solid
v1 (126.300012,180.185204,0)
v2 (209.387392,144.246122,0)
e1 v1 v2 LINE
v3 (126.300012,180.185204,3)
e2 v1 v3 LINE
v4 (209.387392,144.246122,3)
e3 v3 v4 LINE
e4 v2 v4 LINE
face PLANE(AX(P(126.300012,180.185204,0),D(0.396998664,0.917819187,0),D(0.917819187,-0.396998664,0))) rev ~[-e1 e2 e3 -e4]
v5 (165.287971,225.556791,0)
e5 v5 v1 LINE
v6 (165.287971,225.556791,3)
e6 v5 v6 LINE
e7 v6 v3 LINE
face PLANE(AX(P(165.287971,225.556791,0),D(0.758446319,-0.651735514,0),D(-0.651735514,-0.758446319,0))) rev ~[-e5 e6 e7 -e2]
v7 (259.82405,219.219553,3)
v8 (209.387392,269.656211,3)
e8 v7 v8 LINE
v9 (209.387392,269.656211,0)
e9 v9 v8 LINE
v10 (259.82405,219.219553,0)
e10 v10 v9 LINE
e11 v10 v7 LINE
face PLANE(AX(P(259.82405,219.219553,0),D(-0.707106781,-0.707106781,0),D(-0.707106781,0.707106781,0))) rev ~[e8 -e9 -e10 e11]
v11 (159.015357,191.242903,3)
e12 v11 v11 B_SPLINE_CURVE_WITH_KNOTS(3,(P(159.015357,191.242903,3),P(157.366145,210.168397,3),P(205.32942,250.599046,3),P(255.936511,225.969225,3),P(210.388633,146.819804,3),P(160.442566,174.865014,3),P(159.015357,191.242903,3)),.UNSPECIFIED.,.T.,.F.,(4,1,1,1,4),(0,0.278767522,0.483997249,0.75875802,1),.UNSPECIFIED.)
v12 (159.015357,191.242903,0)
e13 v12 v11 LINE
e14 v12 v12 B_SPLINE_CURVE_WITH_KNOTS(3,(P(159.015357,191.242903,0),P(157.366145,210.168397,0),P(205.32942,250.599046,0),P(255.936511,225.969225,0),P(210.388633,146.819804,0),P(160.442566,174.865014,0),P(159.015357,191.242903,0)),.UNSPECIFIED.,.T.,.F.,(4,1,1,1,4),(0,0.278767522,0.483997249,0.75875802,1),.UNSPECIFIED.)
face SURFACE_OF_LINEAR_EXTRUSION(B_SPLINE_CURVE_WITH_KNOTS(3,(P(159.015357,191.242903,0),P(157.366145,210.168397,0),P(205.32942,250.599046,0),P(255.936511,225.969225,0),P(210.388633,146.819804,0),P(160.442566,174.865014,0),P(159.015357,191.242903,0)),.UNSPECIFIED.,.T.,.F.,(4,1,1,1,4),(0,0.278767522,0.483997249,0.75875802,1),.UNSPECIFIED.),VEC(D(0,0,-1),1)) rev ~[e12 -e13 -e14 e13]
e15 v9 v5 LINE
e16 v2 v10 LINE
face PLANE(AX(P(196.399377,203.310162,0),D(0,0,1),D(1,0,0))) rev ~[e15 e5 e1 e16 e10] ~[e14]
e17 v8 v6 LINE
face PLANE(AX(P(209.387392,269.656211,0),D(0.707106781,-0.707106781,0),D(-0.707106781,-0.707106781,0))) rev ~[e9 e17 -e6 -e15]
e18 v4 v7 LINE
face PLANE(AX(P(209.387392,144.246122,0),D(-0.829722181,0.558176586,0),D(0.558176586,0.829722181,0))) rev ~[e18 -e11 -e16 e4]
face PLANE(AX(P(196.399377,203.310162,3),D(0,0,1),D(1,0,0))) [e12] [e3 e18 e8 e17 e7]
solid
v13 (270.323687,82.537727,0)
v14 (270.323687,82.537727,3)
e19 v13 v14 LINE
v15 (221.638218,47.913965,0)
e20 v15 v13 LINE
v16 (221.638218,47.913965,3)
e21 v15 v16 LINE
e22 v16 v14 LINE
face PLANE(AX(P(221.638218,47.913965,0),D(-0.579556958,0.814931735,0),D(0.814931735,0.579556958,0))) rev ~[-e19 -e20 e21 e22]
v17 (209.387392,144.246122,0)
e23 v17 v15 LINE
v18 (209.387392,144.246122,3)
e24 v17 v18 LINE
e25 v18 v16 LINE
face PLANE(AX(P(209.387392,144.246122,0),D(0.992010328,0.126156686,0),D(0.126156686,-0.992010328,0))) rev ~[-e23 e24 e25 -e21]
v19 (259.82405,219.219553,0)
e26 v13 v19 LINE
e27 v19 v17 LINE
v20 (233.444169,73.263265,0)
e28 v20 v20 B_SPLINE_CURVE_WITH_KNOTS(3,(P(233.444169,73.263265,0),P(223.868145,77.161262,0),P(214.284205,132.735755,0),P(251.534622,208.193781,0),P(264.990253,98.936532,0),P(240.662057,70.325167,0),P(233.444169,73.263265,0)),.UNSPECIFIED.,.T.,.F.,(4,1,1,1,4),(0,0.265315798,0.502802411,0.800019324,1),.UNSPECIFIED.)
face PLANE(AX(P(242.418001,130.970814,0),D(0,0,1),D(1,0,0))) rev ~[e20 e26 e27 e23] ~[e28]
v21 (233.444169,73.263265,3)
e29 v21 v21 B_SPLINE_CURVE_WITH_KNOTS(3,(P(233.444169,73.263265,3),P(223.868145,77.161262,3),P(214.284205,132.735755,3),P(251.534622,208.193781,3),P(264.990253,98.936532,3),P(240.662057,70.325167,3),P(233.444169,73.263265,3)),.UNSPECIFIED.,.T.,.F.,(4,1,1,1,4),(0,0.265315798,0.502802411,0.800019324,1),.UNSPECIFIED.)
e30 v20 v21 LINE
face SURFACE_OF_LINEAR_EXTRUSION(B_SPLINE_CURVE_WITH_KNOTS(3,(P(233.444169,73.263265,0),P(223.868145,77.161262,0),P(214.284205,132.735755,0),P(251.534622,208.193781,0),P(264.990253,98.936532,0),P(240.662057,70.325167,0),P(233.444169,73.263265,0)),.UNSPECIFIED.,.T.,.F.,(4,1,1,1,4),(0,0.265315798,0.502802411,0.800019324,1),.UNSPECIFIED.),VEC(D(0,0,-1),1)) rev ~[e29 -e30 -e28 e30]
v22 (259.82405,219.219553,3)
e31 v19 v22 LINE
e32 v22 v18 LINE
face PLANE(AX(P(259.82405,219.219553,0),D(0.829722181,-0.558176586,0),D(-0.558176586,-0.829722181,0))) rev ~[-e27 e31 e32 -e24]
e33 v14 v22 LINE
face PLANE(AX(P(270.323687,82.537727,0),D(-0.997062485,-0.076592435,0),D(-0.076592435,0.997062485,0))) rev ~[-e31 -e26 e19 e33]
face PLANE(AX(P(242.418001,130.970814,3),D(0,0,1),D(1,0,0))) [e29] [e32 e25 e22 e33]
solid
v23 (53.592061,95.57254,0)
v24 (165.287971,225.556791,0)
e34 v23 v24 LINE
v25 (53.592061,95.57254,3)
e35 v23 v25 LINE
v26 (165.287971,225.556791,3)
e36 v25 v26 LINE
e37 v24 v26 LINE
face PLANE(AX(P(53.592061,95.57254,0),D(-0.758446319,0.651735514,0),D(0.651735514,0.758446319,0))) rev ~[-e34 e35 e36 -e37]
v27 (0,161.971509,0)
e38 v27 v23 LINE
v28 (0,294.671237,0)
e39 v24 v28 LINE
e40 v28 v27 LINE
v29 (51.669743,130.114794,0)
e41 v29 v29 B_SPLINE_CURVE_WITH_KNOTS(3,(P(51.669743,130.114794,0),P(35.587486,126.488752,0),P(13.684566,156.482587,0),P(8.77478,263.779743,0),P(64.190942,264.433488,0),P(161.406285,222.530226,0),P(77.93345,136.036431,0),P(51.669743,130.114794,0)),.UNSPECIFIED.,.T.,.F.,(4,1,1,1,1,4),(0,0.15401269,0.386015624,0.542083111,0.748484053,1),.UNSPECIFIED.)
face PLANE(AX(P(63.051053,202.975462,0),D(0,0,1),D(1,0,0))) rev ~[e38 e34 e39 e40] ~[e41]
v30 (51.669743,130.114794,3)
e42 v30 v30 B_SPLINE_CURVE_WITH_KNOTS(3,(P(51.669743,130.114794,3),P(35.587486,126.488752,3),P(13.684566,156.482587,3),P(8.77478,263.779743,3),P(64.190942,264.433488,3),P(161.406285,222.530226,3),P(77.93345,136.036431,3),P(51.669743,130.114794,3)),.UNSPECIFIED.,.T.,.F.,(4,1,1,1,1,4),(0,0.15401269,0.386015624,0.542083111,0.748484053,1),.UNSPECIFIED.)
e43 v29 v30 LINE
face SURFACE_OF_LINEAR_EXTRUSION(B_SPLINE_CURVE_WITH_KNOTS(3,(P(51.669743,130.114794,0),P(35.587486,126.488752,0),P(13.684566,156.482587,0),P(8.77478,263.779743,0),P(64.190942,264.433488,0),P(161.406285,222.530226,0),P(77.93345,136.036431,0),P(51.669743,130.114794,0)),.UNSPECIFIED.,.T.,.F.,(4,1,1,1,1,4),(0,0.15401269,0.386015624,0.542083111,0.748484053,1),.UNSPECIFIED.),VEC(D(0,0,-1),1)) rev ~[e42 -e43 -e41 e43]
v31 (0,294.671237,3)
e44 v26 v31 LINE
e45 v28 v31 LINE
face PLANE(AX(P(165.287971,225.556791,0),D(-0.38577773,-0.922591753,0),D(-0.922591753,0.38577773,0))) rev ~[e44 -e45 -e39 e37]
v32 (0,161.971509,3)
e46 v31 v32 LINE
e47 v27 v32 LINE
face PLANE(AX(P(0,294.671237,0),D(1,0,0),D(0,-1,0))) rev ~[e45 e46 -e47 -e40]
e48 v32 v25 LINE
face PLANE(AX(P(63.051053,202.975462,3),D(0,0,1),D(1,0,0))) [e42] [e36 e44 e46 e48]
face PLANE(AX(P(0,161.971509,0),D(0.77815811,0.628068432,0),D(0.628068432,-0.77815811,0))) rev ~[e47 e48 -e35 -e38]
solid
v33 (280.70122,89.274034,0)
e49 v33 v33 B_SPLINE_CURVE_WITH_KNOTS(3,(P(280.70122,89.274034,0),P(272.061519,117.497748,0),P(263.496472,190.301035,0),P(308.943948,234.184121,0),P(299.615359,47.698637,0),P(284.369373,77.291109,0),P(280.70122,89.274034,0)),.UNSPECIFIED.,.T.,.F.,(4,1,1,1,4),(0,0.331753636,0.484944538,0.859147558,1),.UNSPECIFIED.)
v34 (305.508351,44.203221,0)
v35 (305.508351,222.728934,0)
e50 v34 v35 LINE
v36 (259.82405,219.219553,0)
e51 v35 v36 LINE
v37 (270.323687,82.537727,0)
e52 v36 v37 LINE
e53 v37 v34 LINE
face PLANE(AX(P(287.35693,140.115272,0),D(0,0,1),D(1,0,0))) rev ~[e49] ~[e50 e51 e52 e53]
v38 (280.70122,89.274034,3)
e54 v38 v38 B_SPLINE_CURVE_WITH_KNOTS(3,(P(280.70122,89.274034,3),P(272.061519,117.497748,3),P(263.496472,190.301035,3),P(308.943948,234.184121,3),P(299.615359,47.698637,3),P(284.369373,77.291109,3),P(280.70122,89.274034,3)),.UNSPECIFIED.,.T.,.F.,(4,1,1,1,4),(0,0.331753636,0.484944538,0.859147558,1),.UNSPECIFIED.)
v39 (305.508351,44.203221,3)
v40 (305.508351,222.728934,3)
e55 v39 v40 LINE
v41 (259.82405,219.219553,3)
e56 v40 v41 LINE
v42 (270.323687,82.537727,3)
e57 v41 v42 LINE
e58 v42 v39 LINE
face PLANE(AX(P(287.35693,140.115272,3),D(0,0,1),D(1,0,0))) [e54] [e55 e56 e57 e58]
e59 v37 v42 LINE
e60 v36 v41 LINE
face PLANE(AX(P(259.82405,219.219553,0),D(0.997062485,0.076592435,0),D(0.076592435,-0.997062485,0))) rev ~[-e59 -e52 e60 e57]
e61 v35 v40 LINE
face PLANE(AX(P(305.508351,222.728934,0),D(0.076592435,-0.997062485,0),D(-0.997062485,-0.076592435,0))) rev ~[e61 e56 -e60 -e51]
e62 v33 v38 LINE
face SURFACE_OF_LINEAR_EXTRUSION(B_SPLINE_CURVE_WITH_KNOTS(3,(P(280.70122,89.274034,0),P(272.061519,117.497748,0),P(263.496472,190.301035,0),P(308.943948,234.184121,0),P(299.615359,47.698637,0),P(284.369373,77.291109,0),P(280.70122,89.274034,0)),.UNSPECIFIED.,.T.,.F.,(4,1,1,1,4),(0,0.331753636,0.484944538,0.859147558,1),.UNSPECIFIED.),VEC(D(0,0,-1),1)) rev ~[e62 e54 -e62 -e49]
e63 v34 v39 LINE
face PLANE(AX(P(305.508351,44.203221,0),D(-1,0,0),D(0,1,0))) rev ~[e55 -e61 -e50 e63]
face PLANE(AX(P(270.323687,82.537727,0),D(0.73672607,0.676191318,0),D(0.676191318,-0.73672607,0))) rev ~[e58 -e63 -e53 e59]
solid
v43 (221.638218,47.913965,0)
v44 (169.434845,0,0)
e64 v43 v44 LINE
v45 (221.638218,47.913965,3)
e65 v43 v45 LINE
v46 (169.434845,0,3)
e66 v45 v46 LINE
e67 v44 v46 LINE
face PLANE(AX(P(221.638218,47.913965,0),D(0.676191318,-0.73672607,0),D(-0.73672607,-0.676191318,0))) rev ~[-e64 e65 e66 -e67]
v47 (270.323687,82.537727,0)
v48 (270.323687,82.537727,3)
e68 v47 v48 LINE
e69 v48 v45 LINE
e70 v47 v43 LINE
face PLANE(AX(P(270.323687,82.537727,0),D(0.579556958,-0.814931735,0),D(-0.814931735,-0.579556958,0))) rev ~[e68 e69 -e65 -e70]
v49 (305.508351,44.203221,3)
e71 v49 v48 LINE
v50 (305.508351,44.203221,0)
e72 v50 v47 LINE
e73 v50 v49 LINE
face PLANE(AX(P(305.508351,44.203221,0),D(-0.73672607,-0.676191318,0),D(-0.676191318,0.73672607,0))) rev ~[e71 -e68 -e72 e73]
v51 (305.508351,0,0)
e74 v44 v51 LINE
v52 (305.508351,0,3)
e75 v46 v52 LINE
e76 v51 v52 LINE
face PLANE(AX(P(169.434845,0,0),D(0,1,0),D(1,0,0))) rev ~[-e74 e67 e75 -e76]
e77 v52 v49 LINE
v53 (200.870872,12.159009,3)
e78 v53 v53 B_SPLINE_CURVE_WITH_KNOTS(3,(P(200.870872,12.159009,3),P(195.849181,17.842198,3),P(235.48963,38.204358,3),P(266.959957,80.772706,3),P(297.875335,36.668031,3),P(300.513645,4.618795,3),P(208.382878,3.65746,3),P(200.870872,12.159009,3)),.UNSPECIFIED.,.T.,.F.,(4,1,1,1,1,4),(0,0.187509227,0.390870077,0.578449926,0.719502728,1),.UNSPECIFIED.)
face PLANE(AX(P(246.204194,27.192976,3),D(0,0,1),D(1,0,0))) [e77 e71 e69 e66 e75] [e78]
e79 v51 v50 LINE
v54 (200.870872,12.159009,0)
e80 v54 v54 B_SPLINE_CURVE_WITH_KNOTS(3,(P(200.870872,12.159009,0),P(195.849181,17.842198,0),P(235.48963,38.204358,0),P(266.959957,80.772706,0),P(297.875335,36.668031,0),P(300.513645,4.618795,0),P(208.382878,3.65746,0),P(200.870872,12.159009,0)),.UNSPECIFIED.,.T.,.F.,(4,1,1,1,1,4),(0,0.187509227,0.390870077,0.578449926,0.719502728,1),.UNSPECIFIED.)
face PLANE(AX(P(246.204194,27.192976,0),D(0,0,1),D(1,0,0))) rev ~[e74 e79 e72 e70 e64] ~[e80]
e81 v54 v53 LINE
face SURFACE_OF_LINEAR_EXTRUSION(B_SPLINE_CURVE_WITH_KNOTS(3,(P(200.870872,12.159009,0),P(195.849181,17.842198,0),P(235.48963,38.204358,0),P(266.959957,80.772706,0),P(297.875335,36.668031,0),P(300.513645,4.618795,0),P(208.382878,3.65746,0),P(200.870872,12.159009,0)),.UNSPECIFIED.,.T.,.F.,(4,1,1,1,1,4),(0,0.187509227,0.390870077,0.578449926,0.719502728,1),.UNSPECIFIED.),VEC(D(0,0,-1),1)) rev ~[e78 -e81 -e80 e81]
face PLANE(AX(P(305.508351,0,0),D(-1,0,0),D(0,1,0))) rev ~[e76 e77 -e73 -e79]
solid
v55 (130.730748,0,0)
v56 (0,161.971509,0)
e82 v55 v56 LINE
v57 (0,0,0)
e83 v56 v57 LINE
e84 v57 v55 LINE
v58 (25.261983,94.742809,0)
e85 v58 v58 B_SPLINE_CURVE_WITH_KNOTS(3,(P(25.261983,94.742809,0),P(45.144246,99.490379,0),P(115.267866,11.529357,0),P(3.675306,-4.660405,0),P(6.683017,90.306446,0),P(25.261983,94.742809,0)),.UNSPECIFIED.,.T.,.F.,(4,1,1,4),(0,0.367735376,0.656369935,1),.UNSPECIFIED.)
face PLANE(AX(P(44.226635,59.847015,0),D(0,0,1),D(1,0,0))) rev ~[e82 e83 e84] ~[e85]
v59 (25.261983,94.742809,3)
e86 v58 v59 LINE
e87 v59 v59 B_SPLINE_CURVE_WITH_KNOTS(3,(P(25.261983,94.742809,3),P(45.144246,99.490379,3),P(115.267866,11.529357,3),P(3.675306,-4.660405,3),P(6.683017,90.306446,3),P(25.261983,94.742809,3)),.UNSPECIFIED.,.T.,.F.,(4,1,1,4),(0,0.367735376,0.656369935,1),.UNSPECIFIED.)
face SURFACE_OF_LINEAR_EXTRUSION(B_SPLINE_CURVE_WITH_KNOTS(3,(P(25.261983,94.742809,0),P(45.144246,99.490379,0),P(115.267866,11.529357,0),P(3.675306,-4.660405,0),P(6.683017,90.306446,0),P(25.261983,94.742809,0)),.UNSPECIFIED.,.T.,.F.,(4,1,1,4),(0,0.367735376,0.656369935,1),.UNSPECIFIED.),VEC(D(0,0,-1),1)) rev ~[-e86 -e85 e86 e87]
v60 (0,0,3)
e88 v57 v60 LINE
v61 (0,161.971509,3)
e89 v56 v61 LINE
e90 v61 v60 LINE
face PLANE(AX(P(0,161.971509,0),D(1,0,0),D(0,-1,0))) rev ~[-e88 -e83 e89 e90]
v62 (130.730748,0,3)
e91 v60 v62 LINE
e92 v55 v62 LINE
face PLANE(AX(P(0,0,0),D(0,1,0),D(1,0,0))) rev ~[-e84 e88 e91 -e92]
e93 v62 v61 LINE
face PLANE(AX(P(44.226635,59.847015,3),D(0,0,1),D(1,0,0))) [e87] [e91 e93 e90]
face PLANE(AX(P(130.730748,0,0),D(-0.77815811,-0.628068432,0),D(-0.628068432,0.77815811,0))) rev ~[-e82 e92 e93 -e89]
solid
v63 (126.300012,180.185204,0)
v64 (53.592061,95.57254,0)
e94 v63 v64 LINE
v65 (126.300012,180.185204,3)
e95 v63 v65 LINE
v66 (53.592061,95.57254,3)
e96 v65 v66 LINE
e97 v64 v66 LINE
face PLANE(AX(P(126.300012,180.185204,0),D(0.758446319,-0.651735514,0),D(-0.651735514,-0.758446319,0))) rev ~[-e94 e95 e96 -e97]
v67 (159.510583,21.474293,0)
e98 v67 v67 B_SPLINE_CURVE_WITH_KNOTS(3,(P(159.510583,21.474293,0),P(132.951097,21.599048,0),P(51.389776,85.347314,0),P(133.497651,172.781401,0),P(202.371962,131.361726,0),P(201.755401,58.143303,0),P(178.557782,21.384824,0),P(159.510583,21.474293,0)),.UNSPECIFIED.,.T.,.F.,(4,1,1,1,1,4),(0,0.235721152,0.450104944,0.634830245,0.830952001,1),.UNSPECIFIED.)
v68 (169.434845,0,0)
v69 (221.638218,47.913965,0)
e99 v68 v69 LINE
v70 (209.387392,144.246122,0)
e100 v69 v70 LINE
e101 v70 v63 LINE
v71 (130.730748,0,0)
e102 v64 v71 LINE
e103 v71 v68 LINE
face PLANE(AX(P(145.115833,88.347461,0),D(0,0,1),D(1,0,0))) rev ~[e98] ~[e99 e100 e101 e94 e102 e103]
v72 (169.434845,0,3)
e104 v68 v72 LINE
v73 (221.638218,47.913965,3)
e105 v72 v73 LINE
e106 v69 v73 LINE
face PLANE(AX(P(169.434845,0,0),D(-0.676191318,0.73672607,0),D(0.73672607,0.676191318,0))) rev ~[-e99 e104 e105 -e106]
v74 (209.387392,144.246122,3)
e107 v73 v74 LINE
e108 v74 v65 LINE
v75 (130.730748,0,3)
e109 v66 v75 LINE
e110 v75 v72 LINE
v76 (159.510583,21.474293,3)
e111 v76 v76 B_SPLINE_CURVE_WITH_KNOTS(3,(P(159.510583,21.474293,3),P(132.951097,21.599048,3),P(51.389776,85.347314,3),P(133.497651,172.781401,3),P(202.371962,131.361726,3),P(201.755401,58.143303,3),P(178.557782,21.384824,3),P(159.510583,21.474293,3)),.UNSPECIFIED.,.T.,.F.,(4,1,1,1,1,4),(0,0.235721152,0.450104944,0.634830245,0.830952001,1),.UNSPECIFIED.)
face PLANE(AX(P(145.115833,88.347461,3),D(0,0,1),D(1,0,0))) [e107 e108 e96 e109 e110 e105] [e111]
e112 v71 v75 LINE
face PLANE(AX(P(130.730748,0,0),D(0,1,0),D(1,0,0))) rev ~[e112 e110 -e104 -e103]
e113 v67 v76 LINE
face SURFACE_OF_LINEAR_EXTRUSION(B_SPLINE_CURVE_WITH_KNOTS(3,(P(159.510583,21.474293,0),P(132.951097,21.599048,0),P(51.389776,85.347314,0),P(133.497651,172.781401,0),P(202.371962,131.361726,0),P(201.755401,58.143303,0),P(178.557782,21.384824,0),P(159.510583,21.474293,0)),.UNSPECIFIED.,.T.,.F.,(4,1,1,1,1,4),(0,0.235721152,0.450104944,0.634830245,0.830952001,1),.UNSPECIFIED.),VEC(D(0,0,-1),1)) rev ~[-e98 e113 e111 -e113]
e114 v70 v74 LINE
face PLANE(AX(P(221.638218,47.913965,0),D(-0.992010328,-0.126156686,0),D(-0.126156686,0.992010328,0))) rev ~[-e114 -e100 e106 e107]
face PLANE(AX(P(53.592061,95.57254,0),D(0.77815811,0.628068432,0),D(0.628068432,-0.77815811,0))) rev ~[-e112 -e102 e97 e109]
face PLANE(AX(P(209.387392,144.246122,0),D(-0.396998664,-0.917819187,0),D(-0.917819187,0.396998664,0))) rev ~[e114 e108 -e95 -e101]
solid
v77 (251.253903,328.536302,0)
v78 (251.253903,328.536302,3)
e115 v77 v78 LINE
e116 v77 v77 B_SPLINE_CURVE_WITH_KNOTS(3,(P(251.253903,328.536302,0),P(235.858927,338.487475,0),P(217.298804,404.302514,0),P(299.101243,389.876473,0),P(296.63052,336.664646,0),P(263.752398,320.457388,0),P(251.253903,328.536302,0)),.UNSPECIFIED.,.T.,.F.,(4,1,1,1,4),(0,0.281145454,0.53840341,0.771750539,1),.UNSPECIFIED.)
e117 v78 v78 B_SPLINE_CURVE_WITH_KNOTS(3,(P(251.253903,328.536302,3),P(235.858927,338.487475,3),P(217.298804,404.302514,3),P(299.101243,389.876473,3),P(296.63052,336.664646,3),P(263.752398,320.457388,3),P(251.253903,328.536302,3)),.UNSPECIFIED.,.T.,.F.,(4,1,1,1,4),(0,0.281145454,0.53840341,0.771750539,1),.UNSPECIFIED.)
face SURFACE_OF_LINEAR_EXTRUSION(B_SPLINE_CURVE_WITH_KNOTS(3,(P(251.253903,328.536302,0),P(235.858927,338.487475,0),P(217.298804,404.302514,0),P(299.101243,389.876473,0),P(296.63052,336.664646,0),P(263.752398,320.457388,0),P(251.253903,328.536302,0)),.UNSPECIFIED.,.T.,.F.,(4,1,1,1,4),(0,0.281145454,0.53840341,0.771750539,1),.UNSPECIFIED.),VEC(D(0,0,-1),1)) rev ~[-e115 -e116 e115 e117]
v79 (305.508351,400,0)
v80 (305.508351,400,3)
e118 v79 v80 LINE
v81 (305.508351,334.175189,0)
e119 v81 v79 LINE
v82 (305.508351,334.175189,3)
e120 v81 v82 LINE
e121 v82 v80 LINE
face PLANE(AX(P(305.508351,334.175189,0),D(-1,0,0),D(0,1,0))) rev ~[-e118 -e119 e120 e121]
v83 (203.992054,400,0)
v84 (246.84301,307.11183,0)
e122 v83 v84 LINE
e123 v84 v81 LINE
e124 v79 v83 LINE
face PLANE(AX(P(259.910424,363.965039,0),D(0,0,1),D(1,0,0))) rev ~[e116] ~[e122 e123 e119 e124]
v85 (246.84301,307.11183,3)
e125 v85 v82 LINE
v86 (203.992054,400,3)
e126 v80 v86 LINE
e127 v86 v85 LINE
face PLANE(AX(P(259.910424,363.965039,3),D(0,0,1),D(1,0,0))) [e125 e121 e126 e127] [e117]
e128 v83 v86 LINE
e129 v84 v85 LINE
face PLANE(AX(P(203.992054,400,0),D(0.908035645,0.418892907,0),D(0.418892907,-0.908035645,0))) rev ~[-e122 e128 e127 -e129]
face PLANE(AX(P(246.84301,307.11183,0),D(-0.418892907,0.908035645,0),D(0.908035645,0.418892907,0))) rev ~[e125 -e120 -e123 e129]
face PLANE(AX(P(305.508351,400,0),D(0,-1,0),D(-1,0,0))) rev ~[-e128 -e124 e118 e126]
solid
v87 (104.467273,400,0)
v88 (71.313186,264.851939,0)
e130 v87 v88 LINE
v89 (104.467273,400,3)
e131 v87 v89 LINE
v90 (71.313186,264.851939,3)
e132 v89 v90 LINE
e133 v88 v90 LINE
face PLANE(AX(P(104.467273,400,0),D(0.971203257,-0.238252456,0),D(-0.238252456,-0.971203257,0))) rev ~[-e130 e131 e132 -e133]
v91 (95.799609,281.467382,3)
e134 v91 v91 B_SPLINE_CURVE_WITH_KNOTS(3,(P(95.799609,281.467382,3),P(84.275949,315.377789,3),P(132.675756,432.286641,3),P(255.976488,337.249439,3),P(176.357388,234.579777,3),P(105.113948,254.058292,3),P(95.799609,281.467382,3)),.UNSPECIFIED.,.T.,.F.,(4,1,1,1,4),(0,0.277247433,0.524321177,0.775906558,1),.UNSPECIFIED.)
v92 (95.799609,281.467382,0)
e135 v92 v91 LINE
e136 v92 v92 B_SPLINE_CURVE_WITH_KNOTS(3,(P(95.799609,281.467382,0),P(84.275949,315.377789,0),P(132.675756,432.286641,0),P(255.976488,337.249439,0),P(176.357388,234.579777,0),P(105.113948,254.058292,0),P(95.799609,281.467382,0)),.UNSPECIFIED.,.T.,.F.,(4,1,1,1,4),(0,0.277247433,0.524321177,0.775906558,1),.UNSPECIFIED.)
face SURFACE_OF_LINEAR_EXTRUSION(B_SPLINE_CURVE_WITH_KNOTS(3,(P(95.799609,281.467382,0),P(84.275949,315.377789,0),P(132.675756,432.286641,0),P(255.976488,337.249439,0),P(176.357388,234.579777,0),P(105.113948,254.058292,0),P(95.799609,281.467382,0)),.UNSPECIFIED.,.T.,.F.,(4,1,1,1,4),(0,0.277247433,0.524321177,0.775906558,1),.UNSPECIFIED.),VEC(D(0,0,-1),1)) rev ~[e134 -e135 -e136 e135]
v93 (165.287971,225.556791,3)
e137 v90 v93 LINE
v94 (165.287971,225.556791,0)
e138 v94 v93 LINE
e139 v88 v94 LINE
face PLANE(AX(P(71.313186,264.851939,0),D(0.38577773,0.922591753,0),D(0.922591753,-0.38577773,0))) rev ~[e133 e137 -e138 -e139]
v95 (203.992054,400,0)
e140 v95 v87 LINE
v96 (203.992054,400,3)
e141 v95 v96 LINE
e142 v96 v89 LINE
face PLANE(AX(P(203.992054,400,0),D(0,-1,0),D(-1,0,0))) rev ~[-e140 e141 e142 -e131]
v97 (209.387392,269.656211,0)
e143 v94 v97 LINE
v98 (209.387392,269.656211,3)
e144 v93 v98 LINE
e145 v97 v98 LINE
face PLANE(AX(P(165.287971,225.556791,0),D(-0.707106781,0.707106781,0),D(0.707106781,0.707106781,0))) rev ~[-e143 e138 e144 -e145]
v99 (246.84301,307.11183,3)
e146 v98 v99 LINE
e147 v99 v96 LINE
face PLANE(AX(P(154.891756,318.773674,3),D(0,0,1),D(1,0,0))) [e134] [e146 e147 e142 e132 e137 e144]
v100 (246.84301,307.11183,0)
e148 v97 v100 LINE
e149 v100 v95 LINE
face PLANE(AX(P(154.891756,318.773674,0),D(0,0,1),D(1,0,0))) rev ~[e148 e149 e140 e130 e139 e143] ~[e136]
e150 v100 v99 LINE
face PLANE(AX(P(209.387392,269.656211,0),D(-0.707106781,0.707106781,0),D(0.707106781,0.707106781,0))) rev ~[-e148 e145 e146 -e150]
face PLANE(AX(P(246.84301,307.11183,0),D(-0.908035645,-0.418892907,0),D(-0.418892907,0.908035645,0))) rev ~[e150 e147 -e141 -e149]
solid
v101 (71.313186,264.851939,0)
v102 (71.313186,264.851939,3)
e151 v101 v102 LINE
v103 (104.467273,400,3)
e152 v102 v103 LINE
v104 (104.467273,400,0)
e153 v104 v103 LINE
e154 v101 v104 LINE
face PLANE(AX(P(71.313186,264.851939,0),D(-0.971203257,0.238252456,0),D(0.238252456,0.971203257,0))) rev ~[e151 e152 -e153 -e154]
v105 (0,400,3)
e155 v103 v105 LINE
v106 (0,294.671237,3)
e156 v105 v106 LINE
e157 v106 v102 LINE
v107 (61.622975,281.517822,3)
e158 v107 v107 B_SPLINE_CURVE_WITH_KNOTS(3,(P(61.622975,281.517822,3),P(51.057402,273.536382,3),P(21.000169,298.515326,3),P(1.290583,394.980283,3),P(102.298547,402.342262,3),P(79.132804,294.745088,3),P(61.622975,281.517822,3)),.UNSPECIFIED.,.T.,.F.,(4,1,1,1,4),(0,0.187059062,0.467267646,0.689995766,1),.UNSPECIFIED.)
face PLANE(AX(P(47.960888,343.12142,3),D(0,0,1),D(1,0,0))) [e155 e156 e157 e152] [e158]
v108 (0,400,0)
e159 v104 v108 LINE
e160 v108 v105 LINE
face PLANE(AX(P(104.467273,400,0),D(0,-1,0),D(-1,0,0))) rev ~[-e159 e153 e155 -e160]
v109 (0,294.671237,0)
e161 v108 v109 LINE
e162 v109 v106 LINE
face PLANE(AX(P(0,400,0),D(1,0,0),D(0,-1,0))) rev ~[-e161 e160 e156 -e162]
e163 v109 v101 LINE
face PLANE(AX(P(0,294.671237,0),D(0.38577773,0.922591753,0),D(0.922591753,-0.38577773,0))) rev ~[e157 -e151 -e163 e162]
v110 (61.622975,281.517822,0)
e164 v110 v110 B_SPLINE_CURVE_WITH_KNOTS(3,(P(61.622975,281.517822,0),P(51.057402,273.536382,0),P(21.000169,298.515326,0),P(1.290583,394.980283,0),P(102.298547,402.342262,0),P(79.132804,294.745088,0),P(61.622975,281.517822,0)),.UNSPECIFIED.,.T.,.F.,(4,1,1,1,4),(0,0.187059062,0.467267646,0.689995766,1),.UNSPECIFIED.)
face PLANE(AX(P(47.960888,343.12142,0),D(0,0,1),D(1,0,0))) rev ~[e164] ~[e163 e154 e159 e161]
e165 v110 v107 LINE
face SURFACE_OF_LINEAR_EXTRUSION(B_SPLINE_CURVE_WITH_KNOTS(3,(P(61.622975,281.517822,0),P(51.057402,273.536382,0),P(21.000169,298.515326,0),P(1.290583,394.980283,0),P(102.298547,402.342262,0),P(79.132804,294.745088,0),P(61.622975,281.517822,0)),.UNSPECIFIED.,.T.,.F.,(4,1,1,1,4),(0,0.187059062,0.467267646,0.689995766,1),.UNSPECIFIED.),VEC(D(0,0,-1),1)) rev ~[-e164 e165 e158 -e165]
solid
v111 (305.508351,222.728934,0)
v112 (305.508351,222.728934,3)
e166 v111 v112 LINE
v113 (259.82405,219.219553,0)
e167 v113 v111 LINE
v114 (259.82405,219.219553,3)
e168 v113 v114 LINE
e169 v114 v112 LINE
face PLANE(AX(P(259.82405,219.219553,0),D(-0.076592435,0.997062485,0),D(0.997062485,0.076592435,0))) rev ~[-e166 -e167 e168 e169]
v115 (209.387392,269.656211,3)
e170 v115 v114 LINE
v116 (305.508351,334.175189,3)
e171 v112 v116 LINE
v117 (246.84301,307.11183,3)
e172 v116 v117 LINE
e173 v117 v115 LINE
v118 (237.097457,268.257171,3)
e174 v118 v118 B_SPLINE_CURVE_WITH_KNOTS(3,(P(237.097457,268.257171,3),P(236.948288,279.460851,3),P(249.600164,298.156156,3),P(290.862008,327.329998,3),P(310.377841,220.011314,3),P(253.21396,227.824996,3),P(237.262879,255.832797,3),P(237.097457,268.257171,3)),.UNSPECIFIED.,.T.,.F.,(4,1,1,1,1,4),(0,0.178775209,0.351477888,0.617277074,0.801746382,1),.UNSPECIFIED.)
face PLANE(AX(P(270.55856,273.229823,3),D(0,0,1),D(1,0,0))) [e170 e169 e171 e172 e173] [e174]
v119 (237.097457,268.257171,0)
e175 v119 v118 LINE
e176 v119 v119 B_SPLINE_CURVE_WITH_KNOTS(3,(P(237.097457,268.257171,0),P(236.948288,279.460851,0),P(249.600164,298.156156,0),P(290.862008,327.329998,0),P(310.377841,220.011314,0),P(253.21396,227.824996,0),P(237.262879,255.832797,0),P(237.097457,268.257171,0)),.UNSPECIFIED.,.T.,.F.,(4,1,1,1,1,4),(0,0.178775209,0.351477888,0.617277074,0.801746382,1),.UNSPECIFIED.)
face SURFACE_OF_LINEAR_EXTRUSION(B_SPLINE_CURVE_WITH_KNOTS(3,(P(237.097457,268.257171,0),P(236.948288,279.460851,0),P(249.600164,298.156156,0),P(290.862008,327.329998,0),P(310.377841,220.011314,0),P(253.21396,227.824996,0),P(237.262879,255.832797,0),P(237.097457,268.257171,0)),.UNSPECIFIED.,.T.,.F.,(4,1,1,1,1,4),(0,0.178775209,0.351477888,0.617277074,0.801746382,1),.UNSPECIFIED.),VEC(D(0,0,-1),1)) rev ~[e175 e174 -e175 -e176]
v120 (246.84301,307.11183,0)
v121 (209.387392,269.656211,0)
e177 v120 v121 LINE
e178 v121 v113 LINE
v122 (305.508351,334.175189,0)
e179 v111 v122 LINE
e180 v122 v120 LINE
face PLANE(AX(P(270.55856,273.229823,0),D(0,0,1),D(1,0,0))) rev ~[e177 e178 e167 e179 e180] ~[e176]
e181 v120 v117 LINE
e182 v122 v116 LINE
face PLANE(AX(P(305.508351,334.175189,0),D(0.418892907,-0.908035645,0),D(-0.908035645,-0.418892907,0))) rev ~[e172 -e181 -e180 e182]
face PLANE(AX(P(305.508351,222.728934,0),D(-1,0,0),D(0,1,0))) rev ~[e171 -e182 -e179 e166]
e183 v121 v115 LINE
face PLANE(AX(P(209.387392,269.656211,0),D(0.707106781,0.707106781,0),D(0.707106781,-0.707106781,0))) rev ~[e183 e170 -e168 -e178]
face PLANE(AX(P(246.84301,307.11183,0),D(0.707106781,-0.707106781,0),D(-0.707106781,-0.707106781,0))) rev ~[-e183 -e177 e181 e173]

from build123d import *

# Parameters (mm, degrees)
F1_DEPTH  = 3
F2_DEPTH  = 3
F3_DEPTH  = 3
F4_DEPTH  = 3
F5_DEPTH  = 3
F6_DEPTH  = 3
F7_DEPTH  = 3
F8_DEPTH  = 3
F9_DEPTH  = 3
F10_DEPTH = 3
F11_DEPTH = 3


with BuildPart() as f1:
    # F0 (on Top) → F1 (new body)
    with BuildSketch(Plane.XY):
        Polygon((0, 294.6712374687), (0, 161.9715094566), (53.5920605919, 95.5725400479), (126.3000116157, 180.1852036905), (165.2879714966, 225.5567908287), (71.3131855545, 264.8519389855), align=None)
        with BuildLine():
            add(Edge.make_bspline(
                [(51.6697429121, 130.1147937775), (35.5874858701, 126.4887521528), (13.6845662793, 156.482586697), (8.7747800625, 263.7797428633), (64.1909416028, 264.4334878406), (161.4062847284, 222.5302263314), (77.9334495117, 136.0364310886), (51.6697429121, 130.1147937775)],
                knots=[0, 0, 0, 0, 0.1540126903, 0.3860156236, 0.5420831112, 0.7484840529, 1, 1, 1, 1], degree=3))
        make_face(mode=Mode.SUBTRACT)
    extrude(amount=F1_DEPTH)


with BuildPart() as f2:
    # F0 (on Top) → F2 (new body)
    with BuildSketch(Plane.XY):
        Polygon((0, 400), (0, 294.6712374687), (71.3131855545, 264.8519389855), (104.4672727585, 400), align=None)
        with BuildLine():
            add(Edge.make_bspline(
                [(61.6229747966, 281.517821814), (51.0574019698, 273.5363821456), (21.0001691232, 298.5153264084), (1.2905825831, 394.9802827365), (102.2985472619, 402.3422617188), (79.1328044503, 294.745088454), (61.6229747966, 281.517821814)],
                knots=[0, 0, 0, 0, 0.187059062, 0.4672676464, 0.689995766, 1, 1, 1, 1], degree=3))
        make_face(mode=Mode.SUBTRACT)
    extrude(amount=F2_DEPTH)


with BuildPart() as f3:
    # F0 (on Top) → F3 (new body)
    with BuildSketch(Plane.XY):
        Polygon((104.4672727585, 400), (71.3131855545, 264.8519389855), (165.2879714966, 225.5567908287), (209.3873918056, 269.6562111378), (246.8430101871, 307.1118295193), (203.9920538664, 400), align=None)
        with BuildLine():
            add(Edge.make_bspline(
                [(95.7996090098, 281.4673822174), (84.2759491698, 315.377789107), (132.6757556073, 432.2866410388), (255.9764879696, 337.2494387492), (176.357388249, 234.5797769631), (105.1139480812, 254.058292379), (95.7996090098, 281.4673822174)],
                knots=[0, 0, 0, 0, 0.277247433, 0.5243211775, 0.775906558, 1, 1, 1, 1], degree=3))
        make_face(mode=Mode.SUBTRACT)
    extrude(amount=F3_DEPTH)


with BuildPart() as f4:
    # F0 (on Top) → F4 (new body)
    with BuildSketch(Plane.XY):
        Polygon((0, 161.9715094566), (0, 0), (130.7307481766, 0), (53.5920605919, 95.5725400479), align=None)
        with BuildLine():
            add(Edge.make_bspline(
                [(25.2619834304, 94.7428092373), (45.1442458177, 99.4903791564), (115.2678656409, 11.5293570833), (3.6753059621, -4.6604045747), (6.6830172149, 90.3064458389), (25.2619834304, 94.7428092373)],
                knots=[0, 0, 0, 0, 0.3677353756, 0.6563699348, 1, 1, 1, 1], degree=3))
        make_face(mode=Mode.SUBTRACT)
    extrude(amount=F4_DEPTH)


with BuildPart() as f5:
    # F0 (on Top) → F5 (new body)
    with BuildSketch(Plane.XY):
        Polygon((53.5920605919, 95.5725400479), (130.7307481766, 0), (169.4348454475, 0), (221.6382175684, 47.9139648378), (209.3873918056, 144.2461217855), (126.3000116157, 180.1852036905), align=None)
        with BuildLine():
            add(Edge.make_bspline(
                [(159.5105826855, 21.4742925018), (132.951097494, 21.5990476702), (51.3897764528, 85.3473143579), (133.4976506264, 172.7814008042), (202.3719621737, 131.3617263532), (201.7554007889, 58.1433028365), (178.5577823084, 21.3848240283), (159.5105826855, 21.4742925018)],
                knots=[0, 0, 0, 0, 0.2357211518, 0.450104944, 0.6348302447, 0.8309520007, 1, 1, 1, 1], degree=3))
        make_face(mode=Mode.SUBTRACT)
    extrude(amount=F5_DEPTH)


with BuildPart() as f6:
    # F0 (on Top) → F6 (new body)
    with BuildSketch(Plane.XY):
        Polygon((165.2879714966, 225.5567908287), (126.3000116157, 180.1852036905), (209.3873918056, 144.2461217855), (259.8240498698, 219.2195530736), (209.3873918056, 269.6562111378), align=None)
        with BuildLine():
            add(Edge.make_bspline(
                [(159.0153574944, 191.242903471), (157.3661450922, 210.168396932), (205.3294198163, 250.5990459857), (255.936510859, 225.9692254996), (210.3886326245, 146.8198035125), (160.4425655974, 174.8650144943), (159.0153574944, 191.242903471)],
                knots=[0, 0, 0, 0, 0.2787675215, 0.483997249, 0.7587580198, 1, 1, 1, 1], degree=3))
        make_face(mode=Mode.SUBTRACT)
    extrude(amount=F6_DEPTH)


with BuildPart() as f7:
    # F0 (on Top) → F7 (new body)
    with BuildSketch(Plane.XY):
        Polygon((209.3873918056, 144.2461217855), (221.6382175684, 47.9139648378), (270.3236866424, 82.5377267131), (259.8240498698, 219.2195530736), align=None)
        with BuildLine():
            add(Edge.make_bspline(
                [(233.4441691637, 73.2632651925), (223.8681451639, 77.1612617015), (214.2842052546, 132.7357552801), (251.534621698, 208.1937805486), (264.9902525089, 98.936531553), (240.6620572979, 70.3251665881), (233.4441691637, 73.2632651925)],
                knots=[0, 0, 0, 0, 0.2653157983, 0.5028024109, 0.8000193241, 1, 1, 1, 1], degree=3))
        make_face(mode=Mode.SUBTRACT)
    extrude(amount=F7_DEPTH)


with BuildPart() as f8:
    # F0 (on Top) → F8 (new body)
    with BuildSketch(Plane.XY):
        Polygon((221.6382175684, 47.9139648378), (169.4348454475, 0), (305.508351326, 0), (305.508351326, 44.2032213212), (270.3236866424, 82.5377267131), align=None)
        with BuildLine():
            add(Edge.make_bspline(
                [(200.8708715439, 12.1590094641), (195.8491811406, 17.8421984771), (235.489629836, 38.2043577532), (266.9599571662, 80.7727062979), (297.8753354095, 36.6680313005), (300.513644725, 4.6187954166), (208.382877661, 3.6574597465), (200.8708715439, 12.1590094641)],
                knots=[0, 0, 0, 0, 0.1875092268, 0.3908700766, 0.578449926, 0.719502728, 1, 1, 1, 1], degree=3))
        make_face(mode=Mode.SUBTRACT)
    extrude(amount=F8_DEPTH)


with BuildPart() as f9:
    # F0 (on Top) → F9 (new body)
    with BuildSketch(Plane.XY):
        Polygon((259.8240498698, 219.2195530736), (305.508351326, 222.7289338324), (305.508351326, 334.175189231), (246.8430101871, 307.1118295193), (209.3873918056, 269.6562111378), align=None)
        with BuildLine():
            add(Edge.make_bspline(
                [(237.0974570513, 268.2571709156), (236.9482878735, 279.4608509393), (249.6001638259, 298.1561557938), (290.8620079609, 327.3299981185), (310.3778412781, 220.0113141522), (253.2139601552, 227.8249960774), (237.2628789198, 255.8327967166), (237.0974570513, 268.2571709156)],
                knots=[0, 0, 0, 0, 0.1787752092, 0.3514778882, 0.6172770738, 0.8017463823, 1, 1, 1, 1], degree=3))
        make_face(mode=Mode.SUBTRACT)
    extrude(amount=F9_DEPTH)


with BuildPart() as f10:
    # F0 (on Top) → F10 (new body)
    with BuildSketch(Plane.XY):
        Polygon((270.3236866424, 82.5377267131), (305.508351326, 44.2032213212), (305.508351326, 222.7289338324), (259.8240498698, 219.2195530736), align=None)
        with BuildLine():
            add(Edge.make_bspline(
                [(280.7012200356, 89.2740339041), (272.0615194095, 117.4977478634), (263.4964717343, 190.3010345866), (308.943947776, 234.1841205919), (299.6153590071, 47.6986369732), (284.3693725332, 77.2911086462), (280.7012200356, 89.2740339041)],
                knots=[0, 0, 0, 0, 0.331753636, 0.4849445381, 0.8591475583, 1, 1, 1, 1], degree=3))
        make_face(mode=Mode.SUBTRACT)
    extrude(amount=F10_DEPTH)


with BuildPart() as f11:
    # F0 (on Top) → F11 (new body)
    with BuildSketch(Plane.XY):
        Polygon((305.508351326, 400), (203.9920538664, 400), (246.8430101871, 307.1118295193), (305.508351326, 334.175189231), align=None)
        with BuildLine():
            add(Edge.make_bspline(
                [(251.2539029121, 328.5363018513), (235.8589268987, 338.487475366), (217.2988037865, 404.3025143087), (299.1012427695, 389.8764731632), (296.6305199839, 336.6646457383), (263.7523976481, 320.4573876859), (251.2539029121, 328.5363018513)],
                knots=[0, 0, 0, 0, 0.2811454541, 0.5384034096, 0.7717505389, 1, 1, 1, 1], degree=3))
        make_face(mode=Mode.SUBTRACT)
    extrude(amount=F11_DEPTH)


solid = Compound([f1.part, f2.part, f3.part, f4.part, f5.part, f6.part, f7.part, f8.part, f9.part, f10.part, f11.part])
